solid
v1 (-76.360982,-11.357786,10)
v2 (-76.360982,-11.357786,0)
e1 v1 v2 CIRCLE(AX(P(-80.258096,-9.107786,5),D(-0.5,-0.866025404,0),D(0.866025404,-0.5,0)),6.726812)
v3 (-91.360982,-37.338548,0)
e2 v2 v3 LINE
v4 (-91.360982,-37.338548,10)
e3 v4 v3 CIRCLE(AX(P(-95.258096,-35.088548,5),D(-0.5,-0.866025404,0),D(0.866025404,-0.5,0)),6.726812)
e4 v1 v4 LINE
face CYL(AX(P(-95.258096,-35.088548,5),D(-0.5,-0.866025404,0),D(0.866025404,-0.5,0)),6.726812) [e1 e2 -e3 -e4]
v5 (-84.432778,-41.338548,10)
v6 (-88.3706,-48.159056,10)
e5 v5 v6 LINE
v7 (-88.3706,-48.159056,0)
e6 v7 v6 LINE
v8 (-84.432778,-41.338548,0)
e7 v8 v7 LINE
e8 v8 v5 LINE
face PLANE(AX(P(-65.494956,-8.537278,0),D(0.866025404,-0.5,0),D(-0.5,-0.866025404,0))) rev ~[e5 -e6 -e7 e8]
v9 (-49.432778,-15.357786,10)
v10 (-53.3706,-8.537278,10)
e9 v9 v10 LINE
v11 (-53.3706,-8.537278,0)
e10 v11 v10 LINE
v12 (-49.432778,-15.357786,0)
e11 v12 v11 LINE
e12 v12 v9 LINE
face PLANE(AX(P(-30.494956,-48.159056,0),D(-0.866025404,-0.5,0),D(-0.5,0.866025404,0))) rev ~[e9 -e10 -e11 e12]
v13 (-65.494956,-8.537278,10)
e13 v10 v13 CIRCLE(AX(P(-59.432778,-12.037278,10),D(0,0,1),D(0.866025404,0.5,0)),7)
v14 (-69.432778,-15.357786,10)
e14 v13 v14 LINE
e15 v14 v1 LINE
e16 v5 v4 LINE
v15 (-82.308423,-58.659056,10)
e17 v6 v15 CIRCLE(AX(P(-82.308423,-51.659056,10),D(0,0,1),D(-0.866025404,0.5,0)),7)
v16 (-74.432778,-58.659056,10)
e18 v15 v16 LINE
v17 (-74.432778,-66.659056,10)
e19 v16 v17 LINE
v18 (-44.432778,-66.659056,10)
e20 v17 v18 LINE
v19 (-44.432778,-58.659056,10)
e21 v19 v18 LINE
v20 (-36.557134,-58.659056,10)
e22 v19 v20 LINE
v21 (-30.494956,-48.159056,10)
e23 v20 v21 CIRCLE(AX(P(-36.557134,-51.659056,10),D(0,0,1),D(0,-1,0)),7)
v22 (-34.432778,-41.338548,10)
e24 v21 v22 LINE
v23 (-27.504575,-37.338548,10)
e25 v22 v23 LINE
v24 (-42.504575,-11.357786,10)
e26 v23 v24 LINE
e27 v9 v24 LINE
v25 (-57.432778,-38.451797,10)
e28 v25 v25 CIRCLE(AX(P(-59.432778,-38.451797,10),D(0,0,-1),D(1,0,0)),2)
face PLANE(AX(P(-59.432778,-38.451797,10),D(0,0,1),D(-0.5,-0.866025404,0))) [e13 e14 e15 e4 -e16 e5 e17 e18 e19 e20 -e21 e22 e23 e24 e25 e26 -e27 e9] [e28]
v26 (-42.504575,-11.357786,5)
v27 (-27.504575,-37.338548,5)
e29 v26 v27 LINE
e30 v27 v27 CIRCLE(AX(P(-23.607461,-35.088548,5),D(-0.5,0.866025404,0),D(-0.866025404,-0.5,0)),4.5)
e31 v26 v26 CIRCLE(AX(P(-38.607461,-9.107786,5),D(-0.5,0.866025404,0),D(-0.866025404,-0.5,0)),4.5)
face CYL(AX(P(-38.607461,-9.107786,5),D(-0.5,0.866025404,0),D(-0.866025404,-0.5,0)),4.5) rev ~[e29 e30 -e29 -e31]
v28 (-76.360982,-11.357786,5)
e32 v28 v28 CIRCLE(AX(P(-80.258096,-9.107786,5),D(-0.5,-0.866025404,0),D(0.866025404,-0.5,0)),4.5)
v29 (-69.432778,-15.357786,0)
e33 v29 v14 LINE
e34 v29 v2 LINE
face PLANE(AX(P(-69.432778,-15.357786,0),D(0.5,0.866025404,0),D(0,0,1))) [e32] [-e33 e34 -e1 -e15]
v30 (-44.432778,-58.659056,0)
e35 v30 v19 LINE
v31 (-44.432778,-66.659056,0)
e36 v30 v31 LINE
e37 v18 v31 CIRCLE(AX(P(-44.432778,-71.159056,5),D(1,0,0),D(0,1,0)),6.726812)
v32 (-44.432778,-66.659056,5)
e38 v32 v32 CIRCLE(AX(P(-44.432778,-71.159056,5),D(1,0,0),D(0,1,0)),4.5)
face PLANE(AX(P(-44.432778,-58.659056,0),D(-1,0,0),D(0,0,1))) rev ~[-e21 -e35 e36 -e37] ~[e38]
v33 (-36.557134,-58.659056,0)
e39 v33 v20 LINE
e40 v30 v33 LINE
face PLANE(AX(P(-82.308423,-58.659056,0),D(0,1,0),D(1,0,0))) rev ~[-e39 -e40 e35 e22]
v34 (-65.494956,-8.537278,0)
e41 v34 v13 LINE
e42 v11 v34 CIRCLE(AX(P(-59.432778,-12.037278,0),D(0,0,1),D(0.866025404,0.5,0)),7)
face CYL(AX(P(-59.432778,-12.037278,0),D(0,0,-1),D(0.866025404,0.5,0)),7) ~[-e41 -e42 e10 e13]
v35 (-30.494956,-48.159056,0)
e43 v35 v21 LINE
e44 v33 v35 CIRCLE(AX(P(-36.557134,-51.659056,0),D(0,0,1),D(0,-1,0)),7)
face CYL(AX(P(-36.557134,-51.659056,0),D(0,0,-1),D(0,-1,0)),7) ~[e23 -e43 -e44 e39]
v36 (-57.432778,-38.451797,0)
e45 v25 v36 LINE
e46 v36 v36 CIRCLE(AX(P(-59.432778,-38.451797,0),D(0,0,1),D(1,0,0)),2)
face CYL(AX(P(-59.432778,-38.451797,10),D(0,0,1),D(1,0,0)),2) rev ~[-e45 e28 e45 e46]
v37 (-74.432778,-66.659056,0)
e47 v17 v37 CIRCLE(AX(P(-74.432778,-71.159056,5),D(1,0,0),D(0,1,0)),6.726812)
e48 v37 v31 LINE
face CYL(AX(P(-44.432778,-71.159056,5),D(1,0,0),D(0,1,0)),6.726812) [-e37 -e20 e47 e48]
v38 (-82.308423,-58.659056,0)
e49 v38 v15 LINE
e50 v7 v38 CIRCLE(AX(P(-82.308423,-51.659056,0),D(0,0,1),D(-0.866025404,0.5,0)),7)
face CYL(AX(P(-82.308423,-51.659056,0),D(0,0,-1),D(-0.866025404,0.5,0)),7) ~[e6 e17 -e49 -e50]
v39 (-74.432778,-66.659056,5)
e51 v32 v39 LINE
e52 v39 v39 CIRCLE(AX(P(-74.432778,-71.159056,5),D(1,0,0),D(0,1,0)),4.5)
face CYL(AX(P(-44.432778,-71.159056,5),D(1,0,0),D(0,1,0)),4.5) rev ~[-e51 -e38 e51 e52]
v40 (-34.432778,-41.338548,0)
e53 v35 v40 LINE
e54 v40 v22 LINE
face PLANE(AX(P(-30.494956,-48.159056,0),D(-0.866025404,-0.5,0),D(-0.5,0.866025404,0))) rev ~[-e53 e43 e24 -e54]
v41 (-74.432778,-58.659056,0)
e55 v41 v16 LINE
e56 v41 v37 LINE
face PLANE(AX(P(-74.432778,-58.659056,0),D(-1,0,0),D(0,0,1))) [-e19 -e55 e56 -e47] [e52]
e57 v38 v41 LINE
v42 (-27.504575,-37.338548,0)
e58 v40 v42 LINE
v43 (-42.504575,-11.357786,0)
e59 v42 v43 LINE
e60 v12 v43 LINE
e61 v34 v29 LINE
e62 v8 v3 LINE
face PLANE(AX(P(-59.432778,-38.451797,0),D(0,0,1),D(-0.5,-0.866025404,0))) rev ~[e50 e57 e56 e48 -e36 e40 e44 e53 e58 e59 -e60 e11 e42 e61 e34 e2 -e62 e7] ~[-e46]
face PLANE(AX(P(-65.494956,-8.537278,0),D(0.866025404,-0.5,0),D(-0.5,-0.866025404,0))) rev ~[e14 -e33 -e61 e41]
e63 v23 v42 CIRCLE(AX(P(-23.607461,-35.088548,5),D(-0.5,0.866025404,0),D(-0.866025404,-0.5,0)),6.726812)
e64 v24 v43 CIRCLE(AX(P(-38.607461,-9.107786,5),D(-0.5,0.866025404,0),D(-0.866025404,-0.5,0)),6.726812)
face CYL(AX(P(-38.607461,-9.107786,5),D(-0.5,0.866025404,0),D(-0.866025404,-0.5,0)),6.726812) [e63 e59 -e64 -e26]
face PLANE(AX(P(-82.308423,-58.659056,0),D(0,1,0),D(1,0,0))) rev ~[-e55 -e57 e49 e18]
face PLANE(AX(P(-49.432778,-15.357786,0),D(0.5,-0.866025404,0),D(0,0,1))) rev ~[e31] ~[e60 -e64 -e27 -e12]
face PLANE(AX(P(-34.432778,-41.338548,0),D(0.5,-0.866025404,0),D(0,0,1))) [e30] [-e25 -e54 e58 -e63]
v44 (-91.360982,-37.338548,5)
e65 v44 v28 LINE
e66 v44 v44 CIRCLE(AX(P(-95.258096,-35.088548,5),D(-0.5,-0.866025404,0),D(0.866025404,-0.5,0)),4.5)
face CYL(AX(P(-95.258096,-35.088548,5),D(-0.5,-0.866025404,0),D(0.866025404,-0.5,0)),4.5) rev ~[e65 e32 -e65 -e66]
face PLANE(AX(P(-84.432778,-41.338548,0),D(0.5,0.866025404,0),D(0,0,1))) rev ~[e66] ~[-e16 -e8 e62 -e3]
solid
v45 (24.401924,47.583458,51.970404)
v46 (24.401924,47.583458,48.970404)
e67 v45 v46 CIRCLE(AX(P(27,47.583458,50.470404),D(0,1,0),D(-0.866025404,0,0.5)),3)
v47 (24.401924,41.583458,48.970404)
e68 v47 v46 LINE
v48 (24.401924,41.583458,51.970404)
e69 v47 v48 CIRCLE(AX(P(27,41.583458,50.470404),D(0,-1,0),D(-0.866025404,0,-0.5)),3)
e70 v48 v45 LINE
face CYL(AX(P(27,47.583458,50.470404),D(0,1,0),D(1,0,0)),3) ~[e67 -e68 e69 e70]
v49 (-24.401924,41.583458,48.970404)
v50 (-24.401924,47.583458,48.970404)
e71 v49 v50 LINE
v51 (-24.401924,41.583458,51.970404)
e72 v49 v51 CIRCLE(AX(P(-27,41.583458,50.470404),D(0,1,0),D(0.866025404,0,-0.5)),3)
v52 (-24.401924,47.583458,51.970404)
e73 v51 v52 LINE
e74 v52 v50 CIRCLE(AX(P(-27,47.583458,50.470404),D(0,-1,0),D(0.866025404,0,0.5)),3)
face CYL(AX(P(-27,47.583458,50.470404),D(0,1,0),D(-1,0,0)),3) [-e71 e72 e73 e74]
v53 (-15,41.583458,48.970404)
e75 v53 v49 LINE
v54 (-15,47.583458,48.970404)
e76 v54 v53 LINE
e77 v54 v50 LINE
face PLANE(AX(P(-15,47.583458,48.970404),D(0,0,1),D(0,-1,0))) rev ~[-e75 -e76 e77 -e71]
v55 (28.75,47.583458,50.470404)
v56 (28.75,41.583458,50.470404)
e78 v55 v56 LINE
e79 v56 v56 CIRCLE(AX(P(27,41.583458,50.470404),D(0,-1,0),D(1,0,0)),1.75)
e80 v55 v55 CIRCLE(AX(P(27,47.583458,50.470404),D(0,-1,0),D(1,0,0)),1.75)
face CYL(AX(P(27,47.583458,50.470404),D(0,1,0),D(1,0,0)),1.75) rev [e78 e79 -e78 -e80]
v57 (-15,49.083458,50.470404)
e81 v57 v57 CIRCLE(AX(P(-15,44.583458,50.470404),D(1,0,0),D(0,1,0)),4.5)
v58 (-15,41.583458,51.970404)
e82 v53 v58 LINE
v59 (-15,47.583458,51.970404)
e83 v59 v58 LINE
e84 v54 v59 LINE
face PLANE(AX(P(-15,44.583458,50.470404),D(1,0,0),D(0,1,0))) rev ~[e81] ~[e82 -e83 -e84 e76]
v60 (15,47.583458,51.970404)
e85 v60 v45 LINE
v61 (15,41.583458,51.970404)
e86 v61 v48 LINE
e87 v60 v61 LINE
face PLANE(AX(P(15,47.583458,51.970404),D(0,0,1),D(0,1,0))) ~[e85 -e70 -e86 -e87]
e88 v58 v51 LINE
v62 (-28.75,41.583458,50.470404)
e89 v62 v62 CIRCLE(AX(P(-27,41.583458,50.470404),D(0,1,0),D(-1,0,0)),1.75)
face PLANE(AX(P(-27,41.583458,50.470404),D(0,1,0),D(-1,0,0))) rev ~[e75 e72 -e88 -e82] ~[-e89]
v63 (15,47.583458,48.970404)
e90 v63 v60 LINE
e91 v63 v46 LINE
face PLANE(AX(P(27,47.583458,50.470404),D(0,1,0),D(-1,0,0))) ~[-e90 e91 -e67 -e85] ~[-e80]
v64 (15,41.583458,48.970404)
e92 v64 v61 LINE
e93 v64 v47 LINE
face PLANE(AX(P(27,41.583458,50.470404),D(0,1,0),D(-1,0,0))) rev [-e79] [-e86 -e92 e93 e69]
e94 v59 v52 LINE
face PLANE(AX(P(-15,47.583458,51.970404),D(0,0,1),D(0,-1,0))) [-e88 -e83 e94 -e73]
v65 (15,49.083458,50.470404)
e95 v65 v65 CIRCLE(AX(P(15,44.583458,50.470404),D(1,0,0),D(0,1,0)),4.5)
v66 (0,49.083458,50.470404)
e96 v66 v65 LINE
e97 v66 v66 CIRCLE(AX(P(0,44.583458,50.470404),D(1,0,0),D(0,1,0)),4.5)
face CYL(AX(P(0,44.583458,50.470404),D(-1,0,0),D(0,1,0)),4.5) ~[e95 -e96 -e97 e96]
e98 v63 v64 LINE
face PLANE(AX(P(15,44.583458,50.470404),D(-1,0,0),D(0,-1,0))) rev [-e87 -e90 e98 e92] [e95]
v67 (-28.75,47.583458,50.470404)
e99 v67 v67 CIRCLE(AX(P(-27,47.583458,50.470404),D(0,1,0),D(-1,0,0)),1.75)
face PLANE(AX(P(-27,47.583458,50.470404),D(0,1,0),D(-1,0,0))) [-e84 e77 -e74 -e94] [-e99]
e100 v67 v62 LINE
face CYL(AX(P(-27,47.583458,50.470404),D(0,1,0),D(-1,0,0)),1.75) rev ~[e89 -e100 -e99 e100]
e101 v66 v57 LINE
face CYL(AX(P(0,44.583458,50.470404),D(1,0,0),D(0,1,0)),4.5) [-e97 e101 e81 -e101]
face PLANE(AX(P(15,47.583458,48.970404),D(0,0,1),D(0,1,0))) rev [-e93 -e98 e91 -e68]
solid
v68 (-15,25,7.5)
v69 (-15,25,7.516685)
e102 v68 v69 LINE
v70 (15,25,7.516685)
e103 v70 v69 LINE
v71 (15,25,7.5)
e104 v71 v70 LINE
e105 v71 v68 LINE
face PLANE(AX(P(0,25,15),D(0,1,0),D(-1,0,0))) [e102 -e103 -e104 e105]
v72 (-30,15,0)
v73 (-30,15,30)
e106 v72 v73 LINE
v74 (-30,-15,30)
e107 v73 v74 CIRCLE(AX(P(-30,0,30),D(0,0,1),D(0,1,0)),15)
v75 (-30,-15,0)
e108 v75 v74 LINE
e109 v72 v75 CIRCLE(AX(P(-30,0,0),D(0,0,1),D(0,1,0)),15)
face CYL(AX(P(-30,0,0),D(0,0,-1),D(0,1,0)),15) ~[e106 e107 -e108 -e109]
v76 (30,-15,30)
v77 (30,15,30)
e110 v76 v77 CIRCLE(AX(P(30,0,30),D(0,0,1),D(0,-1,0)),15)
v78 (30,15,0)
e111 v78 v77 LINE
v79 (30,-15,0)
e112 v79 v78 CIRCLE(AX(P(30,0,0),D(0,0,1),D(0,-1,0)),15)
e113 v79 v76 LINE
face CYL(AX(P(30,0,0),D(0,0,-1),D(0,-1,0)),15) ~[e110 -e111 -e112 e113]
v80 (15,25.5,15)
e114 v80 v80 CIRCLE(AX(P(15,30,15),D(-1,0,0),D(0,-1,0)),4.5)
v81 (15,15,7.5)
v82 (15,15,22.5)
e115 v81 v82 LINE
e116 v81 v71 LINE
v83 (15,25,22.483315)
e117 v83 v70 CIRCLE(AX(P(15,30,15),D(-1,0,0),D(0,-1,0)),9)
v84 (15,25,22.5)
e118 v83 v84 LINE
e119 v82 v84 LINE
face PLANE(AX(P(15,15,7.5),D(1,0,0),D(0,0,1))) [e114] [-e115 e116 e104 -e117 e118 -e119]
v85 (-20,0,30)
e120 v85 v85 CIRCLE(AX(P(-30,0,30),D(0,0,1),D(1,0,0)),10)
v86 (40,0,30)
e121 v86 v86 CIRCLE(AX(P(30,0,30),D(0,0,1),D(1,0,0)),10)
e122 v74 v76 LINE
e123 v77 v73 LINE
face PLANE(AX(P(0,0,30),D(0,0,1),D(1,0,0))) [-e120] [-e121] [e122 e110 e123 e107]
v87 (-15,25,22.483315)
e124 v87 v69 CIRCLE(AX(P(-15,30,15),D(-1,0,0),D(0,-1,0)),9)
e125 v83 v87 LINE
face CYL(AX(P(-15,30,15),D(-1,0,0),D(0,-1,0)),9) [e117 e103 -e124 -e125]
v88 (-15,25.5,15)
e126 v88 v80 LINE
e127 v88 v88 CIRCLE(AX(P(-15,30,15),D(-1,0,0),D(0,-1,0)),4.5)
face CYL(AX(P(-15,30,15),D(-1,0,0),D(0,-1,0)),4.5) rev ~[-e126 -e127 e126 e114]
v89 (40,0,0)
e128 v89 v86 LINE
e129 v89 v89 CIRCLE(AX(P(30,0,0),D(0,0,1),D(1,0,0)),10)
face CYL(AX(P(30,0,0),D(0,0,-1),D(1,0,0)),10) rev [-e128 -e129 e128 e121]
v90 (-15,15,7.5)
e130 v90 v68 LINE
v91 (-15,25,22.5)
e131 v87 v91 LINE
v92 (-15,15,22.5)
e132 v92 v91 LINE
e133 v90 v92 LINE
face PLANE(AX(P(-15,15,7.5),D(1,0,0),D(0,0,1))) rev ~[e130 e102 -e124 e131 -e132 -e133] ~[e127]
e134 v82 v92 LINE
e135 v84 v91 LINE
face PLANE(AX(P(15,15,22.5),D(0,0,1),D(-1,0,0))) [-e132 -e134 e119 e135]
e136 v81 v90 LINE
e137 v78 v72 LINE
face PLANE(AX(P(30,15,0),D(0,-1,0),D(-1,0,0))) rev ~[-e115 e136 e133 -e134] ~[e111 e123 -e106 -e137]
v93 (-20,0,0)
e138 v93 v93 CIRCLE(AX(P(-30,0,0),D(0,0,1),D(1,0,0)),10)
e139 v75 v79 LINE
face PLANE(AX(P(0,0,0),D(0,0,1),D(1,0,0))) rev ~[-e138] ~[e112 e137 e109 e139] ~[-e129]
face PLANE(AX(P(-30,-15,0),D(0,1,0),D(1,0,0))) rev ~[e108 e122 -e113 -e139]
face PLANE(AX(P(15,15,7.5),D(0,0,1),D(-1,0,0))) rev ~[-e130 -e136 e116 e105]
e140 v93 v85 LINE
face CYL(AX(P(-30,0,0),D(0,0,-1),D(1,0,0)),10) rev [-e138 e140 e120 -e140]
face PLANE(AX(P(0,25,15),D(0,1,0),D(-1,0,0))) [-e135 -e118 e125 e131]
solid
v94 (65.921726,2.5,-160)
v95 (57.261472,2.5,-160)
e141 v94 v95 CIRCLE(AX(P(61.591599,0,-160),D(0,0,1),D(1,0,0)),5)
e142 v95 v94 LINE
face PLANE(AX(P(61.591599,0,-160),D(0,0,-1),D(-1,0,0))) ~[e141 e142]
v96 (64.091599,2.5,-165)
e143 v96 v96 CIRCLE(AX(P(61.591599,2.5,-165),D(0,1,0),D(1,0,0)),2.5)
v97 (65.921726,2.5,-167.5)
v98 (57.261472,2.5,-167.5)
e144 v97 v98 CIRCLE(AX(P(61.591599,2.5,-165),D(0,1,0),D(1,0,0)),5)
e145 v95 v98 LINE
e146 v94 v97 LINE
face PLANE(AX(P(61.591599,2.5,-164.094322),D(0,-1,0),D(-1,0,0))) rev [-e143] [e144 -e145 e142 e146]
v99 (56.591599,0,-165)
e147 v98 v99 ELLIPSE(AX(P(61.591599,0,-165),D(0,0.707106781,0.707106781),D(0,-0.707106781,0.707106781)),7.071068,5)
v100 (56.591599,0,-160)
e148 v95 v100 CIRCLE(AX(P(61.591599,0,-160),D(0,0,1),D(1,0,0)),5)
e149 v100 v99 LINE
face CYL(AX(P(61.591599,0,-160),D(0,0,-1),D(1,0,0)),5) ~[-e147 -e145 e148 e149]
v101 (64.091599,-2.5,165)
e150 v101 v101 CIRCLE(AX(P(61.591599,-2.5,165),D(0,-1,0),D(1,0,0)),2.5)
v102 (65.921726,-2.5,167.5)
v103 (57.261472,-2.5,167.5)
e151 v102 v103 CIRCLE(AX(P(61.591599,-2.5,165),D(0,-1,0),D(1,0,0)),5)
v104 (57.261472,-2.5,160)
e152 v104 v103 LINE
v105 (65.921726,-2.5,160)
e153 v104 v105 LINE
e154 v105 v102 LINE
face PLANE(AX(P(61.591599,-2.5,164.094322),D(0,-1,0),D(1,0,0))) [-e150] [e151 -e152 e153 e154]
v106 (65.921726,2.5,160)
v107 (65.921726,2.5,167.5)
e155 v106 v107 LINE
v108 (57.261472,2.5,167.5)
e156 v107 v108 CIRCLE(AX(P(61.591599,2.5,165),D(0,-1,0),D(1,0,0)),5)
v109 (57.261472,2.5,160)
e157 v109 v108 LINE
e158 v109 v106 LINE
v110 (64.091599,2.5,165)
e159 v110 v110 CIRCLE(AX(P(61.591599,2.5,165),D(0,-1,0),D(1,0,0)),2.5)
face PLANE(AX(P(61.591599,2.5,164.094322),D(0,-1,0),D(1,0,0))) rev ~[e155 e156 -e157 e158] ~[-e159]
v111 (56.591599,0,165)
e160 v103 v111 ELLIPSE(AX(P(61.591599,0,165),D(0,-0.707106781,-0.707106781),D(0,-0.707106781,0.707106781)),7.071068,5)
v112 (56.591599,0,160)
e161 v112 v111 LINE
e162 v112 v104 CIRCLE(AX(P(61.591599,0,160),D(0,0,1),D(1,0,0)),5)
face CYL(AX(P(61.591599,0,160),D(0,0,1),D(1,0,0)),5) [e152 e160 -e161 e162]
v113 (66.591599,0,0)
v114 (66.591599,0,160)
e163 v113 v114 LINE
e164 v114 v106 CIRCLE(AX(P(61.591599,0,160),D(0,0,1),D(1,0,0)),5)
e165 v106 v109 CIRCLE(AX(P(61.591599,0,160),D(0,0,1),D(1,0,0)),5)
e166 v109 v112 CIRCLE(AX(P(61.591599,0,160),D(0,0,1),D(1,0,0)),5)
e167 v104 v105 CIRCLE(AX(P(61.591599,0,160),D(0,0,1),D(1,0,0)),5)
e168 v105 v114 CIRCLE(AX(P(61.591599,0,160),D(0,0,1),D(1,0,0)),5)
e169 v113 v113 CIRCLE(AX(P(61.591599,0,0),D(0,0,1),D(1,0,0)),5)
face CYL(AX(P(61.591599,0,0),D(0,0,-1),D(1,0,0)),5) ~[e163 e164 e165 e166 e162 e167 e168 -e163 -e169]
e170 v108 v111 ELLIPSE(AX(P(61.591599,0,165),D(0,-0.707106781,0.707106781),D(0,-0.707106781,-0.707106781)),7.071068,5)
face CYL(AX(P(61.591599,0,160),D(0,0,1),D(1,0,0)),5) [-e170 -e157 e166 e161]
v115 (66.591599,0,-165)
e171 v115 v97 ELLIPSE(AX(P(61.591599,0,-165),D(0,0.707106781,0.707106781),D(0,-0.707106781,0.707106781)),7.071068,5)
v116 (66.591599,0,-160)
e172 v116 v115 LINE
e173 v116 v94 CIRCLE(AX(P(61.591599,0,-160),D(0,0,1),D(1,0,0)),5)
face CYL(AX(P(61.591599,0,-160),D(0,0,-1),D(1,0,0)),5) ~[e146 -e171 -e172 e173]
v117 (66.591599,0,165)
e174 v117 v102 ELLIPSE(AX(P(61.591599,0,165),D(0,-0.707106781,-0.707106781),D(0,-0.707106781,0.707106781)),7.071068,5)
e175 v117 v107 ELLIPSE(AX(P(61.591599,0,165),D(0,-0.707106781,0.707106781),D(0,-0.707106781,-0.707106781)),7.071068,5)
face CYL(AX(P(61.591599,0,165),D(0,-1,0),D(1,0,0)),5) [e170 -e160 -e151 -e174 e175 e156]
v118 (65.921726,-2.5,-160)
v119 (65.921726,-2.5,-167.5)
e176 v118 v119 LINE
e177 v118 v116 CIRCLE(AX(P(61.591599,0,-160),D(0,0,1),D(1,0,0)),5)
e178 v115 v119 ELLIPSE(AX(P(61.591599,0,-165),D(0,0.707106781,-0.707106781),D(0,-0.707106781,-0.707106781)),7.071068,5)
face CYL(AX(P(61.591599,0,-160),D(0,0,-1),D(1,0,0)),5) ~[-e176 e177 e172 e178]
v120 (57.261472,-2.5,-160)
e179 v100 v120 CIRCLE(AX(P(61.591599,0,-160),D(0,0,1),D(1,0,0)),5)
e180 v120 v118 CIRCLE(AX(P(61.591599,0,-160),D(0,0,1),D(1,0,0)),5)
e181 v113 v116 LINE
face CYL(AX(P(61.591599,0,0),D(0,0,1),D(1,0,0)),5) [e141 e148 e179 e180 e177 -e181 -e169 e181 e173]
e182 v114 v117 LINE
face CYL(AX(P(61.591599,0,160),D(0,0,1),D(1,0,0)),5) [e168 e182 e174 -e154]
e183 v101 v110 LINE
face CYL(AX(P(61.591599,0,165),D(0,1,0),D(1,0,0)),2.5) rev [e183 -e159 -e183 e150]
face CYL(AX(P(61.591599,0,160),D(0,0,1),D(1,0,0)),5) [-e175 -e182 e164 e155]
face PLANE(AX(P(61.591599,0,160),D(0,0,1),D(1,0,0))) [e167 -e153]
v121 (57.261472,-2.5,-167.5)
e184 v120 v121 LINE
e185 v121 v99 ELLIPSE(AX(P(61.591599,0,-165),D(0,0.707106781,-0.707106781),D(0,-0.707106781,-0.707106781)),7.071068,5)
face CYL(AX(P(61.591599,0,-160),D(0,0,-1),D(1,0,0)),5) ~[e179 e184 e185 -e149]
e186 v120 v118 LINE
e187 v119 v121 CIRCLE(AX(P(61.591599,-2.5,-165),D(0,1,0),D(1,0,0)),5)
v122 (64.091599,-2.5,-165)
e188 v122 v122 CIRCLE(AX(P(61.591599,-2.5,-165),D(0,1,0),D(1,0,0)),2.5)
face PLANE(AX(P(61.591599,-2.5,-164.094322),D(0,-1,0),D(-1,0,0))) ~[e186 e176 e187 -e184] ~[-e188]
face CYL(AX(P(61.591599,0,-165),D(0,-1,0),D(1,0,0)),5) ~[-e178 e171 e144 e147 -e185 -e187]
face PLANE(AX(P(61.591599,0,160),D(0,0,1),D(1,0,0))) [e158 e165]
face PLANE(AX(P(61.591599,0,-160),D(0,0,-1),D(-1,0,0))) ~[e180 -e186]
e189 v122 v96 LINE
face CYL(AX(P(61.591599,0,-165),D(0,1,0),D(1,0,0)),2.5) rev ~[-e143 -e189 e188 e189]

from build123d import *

# Parameters (mm, degrees)
F0_R      = 10
F1_DEPTH  = 30
F2_W      = 30
F2_H      = 15
F3_DEPTH  = 10
F4_R      = 9
F4_R_2    = 4.5
F5_DEPTH  = 30
F6_R      = 4.5
F7_DEPTH  = 15
F8_W      = 6
F8_H      = 3
F9_DEPTH  = 10
F10_R     = 3
F10_R_2   = 1.75
F11_DEPTH = 6
F13_R     = 5
F14_DEPTH = 160
F16_R     = 2.5
F17_DEPTH = 2.5
F15_R     = 5
F18_DEPTH = 200
F21_DEPTH = 10
F22_W     = 30
F22_H     = 10
F23_DEPTH = 8
F24_R     = 6.7268120235
F24_R_2   = 4.5
F25_DEPTH = 30
F26_R     = 2
F27_DEPTH = 10
F28_COUNT = 3


with BuildPart() as f1:
    # F0 (on Top) → F1 (new body)
    with BuildSketch(Plane.XY):
        with BuildLine():
            ThreePointArc((30, -15), (45, 0), (30, 15))
            Line((30, 15), (-30, 15))
            ThreePointArc((-30, 15), (-45, 0), (-30, -15))
            Line((-30, -15), (30, -15))
        make_face()
        with Locations((-30, 0)):
            Circle(F0_R, mode=Mode.SUBTRACT)
        with Locations((30, 0)):
            Circle(F0_R, mode=Mode.SUBTRACT)
    extrude(amount=F1_DEPTH)

    # F2 (on face) → F3 (join)
    with BuildSketch(Plane(origin=(0, 15, 0), x_dir=(-1, 0, 0), z_dir=(0, 1, 0))):
        with Locations((0, 15)):
            Rectangle(F2_W, F2_H)
    extrude(amount=F3_DEPTH)

    # F4 (on face) → F5 (join, through all)
    with BuildSketch(Plane(origin=(-15, 0, 0), x_dir=(0, -1, 0), z_dir=(-1, 0, 0))):
        with Locations((-30, 15)):
            Circle(F4_R)
        with Locations((-30, 15)):
            Circle(F4_R_2, mode=Mode.SUBTRACT)
    extrude(amount=-F5_DEPTH)


with BuildPart() as f7:
    # F6 (on Right) → F7 (new body)
    with BuildSketch(Plane.YZ):
        with Locations((44.5834584534, 50.4704043269)):
            Circle(F6_R)
    extrude(amount=-F7_DEPTH)

    # F8 (on face) → F9 (join)
    with BuildSketch(Plane(origin=(-15, 0, 0), x_dir=(0, -1, 0), z_dir=(-1, 0, 0))):
        with Locations((-44.5834584534, 50.4704043269)):
            Rectangle(F8_W, F8_H)
    extrude(amount=F9_DEPTH)

    # F10 (on face) → F11 (join, through all)
    with BuildSketch(Plane(origin=(0, 47.5834584534, 0), x_dir=(-1, 0, 0), z_dir=(0, 1, 0))):
        with Locations((27, 50.4704043269)):
            Circle(F10_R)
        with Locations((27, 50.4704043269)):
            Circle(F10_R_2, mode=Mode.SUBTRACT)
    extrude(amount=-F11_DEPTH)

    # F12: F7 across plane


with BuildPart() as f7_1:
    add(f7.part)
    add(f7.part.mirror(Plane.YZ))


with BuildPart() as f14:
    # F13 (on Top) → F14 (new body)
    with BuildSketch(Plane.XY):
        with Locations((61.5915991366, 0)):
            Circle(F13_R)
    extrude(amount=F14_DEPTH)

    # F16 (on Front) → F17 (join, symmetric)
    with BuildSketch(Plane.XZ):
        with BuildLine():
            Line((56.5915991366, 160), (66.5915991366, 160))
            Line((66.5915991366, 160), (66.5915991366, 165))
            ThreePointArc((66.5915991366, 165), (61.5915991366, 170), (56.5915991366, 165))
            Line((56.5915991366, 165), (56.5915991366, 160))
        make_face()
        with Locations((61.5915991366, 165)):
            Circle(F16_R, mode=Mode.SUBTRACT)
    extrude(amount=F17_DEPTH, both=True)

    # F15 (on face) → F18 (intersect, symmetric)
    with BuildSketch(Plane.XY.offset(160)):
        with Locations((61.5915991366, 0)):
            Circle(F15_R)
    extrude(amount=F18_DEPTH, both=True, mode=Mode.INTERSECT)

    # F19: F14 across plane


with BuildPart() as f14_1:
    add(f14.part)
    add(f14.part.mirror(Plane.XY))


with BuildPart() as f21:
    # F20 (on Top) → F21 (new body)
    with BuildSketch(Plane.XY):
        with BuildLine():
            ThreePointArc((-53.3706004575, -8.5372778672), (-59.432778284, -5.0372778672), (-65.4949561104, -8.5372778672))
            Line((-65.4949561104, -8.5372778672), (-88.3706004575, -48.1590561321))
            ThreePointArc((-88.3706004575, -48.1590561321), (-88.3706004575, -55.1590561321), (-82.308422631, -58.6590561321))
            Line((-82.308422631, -58.6590561321), (-36.5571339369, -58.6590561321))
            ThreePointArc((-36.5571339369, -58.6590561321), (-30.4949561104, -55.1590561321), (-30.4949561104, -48.1590561321))
            Line((-30.4949561104, -48.1590561321), (-53.3706004575, -8.5372778672))
        make_face()
    extrude(amount=F21_DEPTH)

    # F22 (on face) → F23 (join)
    with BuildSketch(Plane(origin=(-45.4244673267, 26.2258284389, 0), x_dir=(-0.5, -0.8660254038, 0), z_dir=(-0.8660254038, 0.5, 0))):
        with Locations((63.0166219144, 5)):
            Rectangle(F22_W, F22_H)
    extrude(amount=F23_DEPTH)

    # F24 (on face) → F25 (join, through all)
    with BuildSketch(Plane(origin=(-39.0083109572, -67.5643764953, 0), x_dir=(0.8660254038, -0.5, 0), z_dir=(-0.5, -0.8660254038, 0))):
        with Locations((-64.9516568778, 5)):
            Circle(F24_R)
        with Locations((-64.9516568778, 5)):
            Circle(F24_R_2, mode=Mode.SUBTRACT)
    extrude(amount=-F25_DEPTH)

    # F26 (on face) → F27 (cut, through all)
    with BuildSketch(Plane.XY.offset(10)):
        with Locations((-59.432778284, -38.4517967105)):
            Circle(F26_R)
    extrude(amount=-F27_DEPTH, mode=Mode.SUBTRACT)

    # F28: F21 ×3 about axis
    f28_axis = Axis((-59.432778284, -38.4517967105, 10), (0, 0, 1))


with BuildPart() as f21_1:
    add(f21.part)
    for i in range(1, F28_COUNT):
        add(f21.part.rotate(f28_axis, i * 360 / F28_COUNT))


solid = Compound([f1.part, f7_1.part, f14_1.part, f21_1.part])
